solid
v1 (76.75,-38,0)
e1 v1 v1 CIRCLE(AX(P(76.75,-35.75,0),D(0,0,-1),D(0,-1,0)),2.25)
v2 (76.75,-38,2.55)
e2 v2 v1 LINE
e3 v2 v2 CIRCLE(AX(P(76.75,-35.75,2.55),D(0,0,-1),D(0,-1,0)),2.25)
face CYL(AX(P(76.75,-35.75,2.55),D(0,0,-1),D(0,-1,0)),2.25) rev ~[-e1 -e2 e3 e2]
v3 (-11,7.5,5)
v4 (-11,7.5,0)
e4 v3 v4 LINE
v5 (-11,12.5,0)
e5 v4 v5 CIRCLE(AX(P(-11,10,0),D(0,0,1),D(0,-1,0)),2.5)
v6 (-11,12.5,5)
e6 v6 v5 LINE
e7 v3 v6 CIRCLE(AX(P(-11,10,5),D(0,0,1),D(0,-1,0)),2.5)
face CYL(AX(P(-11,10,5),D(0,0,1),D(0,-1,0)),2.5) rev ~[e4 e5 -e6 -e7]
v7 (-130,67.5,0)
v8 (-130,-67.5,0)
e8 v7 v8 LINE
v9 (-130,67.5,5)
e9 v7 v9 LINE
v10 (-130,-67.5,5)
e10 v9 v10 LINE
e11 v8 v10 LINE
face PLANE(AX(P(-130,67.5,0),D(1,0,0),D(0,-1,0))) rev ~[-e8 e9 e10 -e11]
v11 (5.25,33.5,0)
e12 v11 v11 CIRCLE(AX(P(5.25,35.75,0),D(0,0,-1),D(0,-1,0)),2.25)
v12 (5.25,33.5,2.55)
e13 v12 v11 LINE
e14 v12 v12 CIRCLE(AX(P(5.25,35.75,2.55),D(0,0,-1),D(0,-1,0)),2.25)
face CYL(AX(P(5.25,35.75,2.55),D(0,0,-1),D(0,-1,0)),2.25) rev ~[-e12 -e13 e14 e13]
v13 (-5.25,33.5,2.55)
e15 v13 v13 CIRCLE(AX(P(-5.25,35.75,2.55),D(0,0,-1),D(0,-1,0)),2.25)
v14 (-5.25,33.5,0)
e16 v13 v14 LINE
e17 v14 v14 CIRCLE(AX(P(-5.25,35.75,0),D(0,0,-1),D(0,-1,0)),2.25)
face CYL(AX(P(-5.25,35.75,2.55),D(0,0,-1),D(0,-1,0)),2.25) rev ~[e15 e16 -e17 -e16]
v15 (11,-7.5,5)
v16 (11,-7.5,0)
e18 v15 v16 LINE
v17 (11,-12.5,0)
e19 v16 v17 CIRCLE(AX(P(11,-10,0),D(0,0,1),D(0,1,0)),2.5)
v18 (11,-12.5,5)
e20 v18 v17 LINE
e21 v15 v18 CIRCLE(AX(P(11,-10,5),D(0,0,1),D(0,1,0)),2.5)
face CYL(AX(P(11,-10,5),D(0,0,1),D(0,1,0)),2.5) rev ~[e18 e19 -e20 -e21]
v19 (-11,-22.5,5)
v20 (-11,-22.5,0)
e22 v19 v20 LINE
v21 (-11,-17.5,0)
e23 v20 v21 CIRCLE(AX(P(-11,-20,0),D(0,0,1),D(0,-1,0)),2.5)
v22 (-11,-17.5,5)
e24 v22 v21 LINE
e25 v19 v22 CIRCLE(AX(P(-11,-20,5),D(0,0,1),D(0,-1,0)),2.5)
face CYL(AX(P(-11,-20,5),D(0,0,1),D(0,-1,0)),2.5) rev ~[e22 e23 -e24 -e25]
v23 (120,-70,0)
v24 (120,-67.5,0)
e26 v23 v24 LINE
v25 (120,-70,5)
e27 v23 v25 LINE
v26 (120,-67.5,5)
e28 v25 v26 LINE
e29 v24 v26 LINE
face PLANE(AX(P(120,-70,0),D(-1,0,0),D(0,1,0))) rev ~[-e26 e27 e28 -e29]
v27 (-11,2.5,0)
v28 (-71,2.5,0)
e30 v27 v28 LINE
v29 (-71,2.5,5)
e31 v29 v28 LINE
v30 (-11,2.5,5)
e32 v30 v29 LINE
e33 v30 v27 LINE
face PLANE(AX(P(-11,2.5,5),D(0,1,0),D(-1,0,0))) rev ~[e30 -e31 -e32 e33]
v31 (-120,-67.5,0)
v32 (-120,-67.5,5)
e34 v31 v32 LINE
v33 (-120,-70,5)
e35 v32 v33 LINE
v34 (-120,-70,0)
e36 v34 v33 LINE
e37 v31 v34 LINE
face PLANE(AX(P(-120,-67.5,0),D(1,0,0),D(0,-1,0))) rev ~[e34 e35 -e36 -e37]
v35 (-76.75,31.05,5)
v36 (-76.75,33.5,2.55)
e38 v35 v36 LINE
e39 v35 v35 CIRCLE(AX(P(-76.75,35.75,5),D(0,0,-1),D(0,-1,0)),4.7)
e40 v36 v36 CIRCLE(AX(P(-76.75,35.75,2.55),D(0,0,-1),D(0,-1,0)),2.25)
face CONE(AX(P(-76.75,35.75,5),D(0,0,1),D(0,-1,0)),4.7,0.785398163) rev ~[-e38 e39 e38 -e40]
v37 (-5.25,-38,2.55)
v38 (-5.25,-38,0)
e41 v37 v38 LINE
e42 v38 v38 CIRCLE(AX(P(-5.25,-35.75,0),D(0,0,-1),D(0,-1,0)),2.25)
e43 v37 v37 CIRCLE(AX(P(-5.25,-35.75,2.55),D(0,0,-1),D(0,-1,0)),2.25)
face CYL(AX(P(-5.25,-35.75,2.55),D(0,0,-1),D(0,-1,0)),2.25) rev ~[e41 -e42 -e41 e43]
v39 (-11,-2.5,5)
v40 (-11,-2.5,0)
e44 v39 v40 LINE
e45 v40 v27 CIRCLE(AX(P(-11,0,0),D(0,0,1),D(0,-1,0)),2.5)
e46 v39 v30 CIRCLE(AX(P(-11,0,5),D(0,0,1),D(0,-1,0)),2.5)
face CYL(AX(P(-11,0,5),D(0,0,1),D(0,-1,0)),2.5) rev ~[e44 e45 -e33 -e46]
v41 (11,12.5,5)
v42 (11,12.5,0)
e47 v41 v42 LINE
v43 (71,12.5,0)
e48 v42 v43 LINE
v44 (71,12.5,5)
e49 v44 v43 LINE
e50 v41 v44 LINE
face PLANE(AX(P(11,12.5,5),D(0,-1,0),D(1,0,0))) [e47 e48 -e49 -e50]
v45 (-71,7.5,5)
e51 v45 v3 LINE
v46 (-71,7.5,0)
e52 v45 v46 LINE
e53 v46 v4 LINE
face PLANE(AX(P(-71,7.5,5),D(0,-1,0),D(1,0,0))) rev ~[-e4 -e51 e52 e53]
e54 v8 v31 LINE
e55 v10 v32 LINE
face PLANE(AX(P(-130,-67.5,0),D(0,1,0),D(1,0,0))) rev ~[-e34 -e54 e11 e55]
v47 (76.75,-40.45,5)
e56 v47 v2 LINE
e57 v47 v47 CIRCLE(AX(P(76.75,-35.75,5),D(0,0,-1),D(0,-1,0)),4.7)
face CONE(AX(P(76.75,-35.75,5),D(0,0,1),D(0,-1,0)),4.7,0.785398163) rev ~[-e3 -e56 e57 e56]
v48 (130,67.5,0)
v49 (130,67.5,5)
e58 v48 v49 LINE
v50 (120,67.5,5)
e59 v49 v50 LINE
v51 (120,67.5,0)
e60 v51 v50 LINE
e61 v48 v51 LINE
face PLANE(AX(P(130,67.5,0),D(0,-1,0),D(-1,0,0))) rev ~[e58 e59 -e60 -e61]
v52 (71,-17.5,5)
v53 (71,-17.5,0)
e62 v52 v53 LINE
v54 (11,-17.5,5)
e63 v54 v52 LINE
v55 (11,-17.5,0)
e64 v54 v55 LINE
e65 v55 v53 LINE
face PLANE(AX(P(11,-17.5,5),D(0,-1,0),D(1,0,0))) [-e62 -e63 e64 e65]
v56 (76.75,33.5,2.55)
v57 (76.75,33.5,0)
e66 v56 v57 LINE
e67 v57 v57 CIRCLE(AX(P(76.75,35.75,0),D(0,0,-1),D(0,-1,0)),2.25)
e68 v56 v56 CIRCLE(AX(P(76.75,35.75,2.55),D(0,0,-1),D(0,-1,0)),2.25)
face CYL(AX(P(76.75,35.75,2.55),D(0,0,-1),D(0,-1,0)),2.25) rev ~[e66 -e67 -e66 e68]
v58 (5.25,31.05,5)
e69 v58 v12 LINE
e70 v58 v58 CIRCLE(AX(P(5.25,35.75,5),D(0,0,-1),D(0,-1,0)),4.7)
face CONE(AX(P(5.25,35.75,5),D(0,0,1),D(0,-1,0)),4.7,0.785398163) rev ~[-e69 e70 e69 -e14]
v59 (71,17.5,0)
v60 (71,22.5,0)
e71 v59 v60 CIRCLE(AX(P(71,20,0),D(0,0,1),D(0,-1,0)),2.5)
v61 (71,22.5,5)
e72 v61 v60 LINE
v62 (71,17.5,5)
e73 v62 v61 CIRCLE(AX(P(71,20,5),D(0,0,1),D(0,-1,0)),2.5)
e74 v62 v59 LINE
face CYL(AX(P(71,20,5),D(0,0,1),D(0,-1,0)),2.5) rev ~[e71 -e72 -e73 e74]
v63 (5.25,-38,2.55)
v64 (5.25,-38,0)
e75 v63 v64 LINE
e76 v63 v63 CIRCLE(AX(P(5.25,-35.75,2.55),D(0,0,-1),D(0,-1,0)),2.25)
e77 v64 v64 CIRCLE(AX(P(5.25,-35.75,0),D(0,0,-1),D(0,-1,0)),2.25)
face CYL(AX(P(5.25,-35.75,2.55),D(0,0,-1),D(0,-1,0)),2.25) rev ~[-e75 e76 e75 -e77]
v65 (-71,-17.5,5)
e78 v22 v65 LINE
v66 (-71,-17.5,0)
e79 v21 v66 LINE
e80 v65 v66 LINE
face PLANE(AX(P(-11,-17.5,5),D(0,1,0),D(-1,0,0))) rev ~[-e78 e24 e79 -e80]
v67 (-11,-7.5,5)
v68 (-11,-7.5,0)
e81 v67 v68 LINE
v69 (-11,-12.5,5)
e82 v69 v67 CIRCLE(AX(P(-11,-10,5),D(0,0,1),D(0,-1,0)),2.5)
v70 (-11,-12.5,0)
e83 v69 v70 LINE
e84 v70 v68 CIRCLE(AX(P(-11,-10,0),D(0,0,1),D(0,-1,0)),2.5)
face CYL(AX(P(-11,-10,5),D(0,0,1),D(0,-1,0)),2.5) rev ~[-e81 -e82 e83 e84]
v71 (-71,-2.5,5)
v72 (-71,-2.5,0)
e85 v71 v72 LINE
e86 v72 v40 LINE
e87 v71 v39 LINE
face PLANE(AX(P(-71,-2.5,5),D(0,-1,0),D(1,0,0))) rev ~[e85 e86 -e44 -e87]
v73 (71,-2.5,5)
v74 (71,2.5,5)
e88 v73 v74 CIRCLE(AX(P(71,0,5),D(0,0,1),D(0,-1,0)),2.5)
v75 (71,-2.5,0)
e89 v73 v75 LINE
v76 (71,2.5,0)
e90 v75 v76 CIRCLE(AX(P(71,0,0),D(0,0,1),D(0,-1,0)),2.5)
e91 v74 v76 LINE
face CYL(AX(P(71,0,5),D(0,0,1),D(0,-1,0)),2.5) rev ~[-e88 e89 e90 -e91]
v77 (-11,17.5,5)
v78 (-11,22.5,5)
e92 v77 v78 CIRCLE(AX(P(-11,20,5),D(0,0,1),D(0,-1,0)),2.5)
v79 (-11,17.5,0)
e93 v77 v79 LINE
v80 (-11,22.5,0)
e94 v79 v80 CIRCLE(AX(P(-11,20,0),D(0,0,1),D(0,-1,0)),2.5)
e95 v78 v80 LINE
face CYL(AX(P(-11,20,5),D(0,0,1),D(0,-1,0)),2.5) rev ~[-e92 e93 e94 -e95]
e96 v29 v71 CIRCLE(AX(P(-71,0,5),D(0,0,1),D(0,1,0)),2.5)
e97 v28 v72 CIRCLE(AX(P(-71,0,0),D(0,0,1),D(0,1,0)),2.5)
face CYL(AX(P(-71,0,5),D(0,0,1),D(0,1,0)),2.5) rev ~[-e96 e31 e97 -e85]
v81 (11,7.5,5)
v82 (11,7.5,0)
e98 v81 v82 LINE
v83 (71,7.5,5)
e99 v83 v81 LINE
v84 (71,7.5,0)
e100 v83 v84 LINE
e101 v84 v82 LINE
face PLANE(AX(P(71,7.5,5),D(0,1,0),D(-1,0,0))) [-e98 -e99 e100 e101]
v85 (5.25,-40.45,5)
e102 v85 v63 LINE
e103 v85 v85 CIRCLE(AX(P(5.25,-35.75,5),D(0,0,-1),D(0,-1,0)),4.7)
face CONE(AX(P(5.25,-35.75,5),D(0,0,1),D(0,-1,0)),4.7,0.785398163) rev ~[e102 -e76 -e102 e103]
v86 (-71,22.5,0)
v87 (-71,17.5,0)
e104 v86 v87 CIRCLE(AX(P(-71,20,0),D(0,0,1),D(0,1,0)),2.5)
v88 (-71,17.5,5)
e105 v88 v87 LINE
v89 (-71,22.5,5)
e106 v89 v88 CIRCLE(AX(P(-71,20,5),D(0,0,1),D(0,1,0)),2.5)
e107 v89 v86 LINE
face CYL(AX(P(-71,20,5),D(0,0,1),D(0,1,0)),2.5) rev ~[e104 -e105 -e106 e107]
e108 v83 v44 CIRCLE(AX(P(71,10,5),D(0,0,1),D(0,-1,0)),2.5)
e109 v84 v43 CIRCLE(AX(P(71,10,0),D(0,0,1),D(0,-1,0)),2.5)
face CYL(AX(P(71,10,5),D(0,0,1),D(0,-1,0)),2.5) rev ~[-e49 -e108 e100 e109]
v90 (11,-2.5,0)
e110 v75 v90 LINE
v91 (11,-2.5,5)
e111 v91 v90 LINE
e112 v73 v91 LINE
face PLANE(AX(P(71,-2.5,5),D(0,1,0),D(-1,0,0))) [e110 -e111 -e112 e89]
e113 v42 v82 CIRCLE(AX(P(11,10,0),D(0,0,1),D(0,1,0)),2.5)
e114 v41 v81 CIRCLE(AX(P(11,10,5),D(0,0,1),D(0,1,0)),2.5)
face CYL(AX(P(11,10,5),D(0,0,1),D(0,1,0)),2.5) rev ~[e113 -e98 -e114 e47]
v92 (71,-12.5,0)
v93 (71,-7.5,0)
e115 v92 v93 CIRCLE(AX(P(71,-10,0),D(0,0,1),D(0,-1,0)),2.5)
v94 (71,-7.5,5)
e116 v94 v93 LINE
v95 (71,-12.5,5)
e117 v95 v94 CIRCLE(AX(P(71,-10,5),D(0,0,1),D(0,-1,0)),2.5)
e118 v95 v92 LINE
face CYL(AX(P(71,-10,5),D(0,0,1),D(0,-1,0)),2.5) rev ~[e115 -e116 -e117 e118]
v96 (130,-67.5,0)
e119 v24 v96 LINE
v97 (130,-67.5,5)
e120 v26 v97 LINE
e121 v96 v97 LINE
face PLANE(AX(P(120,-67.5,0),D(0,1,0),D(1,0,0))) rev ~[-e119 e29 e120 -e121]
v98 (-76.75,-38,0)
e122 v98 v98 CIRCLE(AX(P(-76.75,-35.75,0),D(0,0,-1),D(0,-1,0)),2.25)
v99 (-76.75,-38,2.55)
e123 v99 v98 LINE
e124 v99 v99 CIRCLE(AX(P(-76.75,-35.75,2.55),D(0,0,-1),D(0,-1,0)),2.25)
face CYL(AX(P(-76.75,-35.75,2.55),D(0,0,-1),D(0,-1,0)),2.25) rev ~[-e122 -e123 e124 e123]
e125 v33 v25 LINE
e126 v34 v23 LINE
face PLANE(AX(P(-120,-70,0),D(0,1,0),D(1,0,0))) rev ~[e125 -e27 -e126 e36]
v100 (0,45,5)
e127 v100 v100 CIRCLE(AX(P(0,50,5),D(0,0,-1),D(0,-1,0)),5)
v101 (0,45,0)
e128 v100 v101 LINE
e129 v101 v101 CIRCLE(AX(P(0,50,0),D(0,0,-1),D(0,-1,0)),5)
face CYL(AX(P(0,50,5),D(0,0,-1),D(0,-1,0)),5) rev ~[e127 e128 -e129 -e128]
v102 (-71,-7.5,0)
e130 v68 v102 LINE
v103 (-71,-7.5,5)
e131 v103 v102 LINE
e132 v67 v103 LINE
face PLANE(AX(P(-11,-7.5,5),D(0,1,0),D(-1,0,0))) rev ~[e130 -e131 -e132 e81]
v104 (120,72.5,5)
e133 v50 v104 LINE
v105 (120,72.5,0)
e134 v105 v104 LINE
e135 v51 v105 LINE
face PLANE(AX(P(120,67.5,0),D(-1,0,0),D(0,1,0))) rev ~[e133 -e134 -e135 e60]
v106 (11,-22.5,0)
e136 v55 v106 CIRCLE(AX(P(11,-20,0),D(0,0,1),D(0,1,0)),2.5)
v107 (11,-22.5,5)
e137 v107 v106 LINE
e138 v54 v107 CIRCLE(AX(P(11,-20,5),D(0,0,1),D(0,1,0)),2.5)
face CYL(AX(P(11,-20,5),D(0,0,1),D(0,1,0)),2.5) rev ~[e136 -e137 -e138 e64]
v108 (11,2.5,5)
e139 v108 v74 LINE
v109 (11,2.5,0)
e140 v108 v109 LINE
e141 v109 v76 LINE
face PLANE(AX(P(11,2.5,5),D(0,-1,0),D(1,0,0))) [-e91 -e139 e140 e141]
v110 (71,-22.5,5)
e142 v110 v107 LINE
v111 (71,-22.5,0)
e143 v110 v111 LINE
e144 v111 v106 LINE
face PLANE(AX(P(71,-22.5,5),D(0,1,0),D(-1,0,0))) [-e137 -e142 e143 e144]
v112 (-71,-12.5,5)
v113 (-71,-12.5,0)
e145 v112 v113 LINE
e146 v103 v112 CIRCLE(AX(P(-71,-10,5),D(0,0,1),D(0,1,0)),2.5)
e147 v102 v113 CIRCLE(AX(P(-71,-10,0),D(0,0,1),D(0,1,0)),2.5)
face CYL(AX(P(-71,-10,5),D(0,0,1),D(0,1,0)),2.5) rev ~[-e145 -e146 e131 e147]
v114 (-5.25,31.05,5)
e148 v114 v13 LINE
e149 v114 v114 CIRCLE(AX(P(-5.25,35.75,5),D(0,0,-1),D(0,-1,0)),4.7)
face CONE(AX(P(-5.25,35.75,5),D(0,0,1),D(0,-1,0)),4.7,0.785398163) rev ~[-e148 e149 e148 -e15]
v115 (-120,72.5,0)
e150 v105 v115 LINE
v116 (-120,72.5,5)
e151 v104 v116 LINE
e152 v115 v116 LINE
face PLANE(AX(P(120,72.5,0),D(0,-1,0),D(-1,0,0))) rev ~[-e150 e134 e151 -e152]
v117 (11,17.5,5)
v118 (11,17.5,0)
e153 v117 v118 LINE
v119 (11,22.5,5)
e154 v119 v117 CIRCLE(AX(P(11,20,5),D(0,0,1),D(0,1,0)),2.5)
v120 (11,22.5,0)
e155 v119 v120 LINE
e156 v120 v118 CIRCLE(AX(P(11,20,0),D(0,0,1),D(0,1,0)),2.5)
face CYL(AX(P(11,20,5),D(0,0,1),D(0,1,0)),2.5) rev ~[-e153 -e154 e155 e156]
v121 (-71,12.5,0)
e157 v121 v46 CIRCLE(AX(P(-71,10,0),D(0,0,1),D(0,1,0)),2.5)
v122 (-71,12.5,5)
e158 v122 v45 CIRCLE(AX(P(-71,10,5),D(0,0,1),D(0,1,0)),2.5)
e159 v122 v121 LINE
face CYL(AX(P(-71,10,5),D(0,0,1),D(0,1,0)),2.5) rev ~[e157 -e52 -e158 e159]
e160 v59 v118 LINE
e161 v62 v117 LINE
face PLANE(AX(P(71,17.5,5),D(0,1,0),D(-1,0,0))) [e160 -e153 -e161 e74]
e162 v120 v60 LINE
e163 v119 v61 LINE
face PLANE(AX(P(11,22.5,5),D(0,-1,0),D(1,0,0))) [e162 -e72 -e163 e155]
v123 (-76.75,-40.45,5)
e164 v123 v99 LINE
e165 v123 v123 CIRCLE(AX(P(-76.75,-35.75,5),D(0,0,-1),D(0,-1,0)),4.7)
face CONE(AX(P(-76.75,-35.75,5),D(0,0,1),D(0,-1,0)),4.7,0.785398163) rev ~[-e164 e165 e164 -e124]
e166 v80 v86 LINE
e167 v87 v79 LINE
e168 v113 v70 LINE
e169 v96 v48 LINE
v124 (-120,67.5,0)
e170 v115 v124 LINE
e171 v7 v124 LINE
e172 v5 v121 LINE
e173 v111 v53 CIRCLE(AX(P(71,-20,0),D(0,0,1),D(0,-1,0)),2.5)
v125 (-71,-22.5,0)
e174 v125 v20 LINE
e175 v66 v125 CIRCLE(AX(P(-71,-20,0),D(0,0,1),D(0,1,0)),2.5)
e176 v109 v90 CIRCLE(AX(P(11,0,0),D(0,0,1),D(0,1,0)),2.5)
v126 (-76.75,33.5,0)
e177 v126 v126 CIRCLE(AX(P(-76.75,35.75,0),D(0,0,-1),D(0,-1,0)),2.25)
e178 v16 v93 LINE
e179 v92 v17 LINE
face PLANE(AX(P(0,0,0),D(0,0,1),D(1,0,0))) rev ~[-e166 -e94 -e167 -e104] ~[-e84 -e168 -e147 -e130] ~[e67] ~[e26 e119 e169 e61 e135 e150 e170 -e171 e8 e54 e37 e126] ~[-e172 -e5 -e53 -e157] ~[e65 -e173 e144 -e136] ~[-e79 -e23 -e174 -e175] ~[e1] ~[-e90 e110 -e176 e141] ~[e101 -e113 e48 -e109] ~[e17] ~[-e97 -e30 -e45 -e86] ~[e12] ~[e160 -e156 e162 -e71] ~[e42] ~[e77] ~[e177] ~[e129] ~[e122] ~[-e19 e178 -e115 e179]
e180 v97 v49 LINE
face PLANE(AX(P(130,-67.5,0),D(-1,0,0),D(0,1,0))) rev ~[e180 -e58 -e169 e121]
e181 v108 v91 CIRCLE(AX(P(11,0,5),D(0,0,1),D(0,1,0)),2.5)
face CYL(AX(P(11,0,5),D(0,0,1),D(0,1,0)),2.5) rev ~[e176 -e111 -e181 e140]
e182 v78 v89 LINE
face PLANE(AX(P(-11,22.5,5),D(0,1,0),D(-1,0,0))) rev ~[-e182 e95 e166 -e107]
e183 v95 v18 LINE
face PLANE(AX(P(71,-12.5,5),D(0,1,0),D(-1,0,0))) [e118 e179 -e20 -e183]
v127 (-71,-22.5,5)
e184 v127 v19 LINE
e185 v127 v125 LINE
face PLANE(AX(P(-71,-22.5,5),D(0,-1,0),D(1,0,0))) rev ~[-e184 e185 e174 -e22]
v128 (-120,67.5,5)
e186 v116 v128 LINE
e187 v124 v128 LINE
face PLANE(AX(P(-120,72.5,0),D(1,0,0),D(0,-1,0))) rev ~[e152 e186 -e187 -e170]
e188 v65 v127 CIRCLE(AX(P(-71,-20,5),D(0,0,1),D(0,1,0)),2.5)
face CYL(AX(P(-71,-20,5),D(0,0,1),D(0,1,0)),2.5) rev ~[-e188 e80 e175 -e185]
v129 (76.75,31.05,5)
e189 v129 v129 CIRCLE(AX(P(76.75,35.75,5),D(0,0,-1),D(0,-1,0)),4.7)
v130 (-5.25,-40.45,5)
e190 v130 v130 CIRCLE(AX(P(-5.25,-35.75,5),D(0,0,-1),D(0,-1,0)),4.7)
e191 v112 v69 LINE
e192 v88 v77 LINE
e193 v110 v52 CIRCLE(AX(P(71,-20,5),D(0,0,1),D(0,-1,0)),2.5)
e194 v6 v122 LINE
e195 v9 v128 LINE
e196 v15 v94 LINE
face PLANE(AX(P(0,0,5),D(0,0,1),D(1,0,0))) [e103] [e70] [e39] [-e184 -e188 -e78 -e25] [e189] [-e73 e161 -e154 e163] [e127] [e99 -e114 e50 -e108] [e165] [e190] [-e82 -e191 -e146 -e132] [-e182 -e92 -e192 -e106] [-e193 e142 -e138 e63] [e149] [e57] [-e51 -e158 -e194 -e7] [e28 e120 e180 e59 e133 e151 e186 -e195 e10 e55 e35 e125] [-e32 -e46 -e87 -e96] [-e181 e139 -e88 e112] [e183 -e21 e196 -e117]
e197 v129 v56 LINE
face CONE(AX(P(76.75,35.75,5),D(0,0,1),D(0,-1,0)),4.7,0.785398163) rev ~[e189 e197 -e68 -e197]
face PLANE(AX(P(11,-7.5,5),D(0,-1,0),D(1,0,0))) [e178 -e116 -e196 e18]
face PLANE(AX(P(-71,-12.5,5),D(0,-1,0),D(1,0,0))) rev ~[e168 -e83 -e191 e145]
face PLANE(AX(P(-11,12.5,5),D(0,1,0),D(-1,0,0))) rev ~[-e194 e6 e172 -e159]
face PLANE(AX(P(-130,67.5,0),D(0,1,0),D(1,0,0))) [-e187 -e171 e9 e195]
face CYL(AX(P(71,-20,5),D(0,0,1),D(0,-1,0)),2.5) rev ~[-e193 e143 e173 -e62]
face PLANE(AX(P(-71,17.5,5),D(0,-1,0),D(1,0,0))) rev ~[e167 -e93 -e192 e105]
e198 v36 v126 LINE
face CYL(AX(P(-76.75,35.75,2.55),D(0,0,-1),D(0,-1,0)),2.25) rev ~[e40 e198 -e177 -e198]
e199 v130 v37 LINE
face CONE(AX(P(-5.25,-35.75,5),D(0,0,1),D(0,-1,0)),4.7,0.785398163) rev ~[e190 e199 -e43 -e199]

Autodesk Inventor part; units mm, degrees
ref_plane "YZ Plane" through (0, 0, 0) normal (1, 0, 0) x (0, 1, 0)
ref_plane "XZ Plane" through (0, 0, 0) normal (0, 1, 0) x (-1, 0, 0)
ref_plane "XY Plane" through (0, 0, 0) normal (0, 0, 1) x (1, 0, 0)
sketch "Sketch1" plane through (0, 0, 0) normal (0, 0, 1) x (1, 0, 0)
  line L0 (-130, 67.5) -> (-130, -67.5)
  line L1 (-130, -67.5) -> (-120, -67.5)
  line L2 (-120, -67.5) -> (-120, -70)
  line L3 (-120, -70) -> (120, -70)
  line L4 (120, -70) -> (120, -67.5)
  line L5 (120, -67.5) -> (130, -67.5)
  line L6 (130, -67.5) -> (130, 67.5)
  line L7 (130, 67.5) -> (120, 67.5)
  line L8 (120, 67.5) -> (120, 72.5)
  line L9 (120, 72.5) -> (-120, 72.5)
  line L10 (-120, 72.5) -> (-120, 67.5)
  line L11 (-130, 67.5) -> (-120, 67.5)
  point P0 (0, 0)
  point P1 (0, 72.5)
  point P2 (130, 0)
  point P3 (-130, 0)
  dimension "d0" = 5
  dimension "d1" = 240
  dimension "d2" = 10
  dimension "d3" = 10
  dimension "d4" = 2.5
  dimension "d5" = 135
extrude "Extrusion1" add sketch "Sketch1" along normal blind 5
sketch "Sketch2" plane through (0, 0, 5) normal (0, 0, 1) x (1, 0, 0)
  line L0 (-76.75, -35.75) -> (-5.25, -35.75) construction
  line L1 (-5.25, -35.75) -> (-5.25, 35.75) construction
  line L2 (-5.25, 35.75) -> (-76.75, 35.75) construction
  line L3 (-76.75, 35.75) -> (-76.75, -35.75) construction
  line L4 (-76.75, -35.75) -> (-5.25, 35.75) construction
  line L5 (-5.25, -35.75) -> (-76.75, 35.75) construction
  line L6 (5.25, -35.75) -> (76.75, -35.75) construction
  line L7 (76.75, -35.75) -> (76.75, 35.75) construction
  line L8 (76.75, 35.75) -> (5.25, 35.75) construction
  line L9 (5.25, 35.75) -> (5.25, -35.75) construction
  line L10 (5.25, -35.75) -> (76.75, 35.75) construction
  line L11 (76.75, -35.75) -> (5.25, 35.75) construction
  point P0 (0, 0)
  point P1 (-41, 0)
  point P2 (41, 0)
  point P3 (-41, 0)
  point P4 (41, 0)
  point P5 (76.75, 35.75)
  dimension "d8" = 71.5
  dimension "d9" = 71.5
  dimension "d10" = 71.5
  dimension "d11" = 82
  dimension "d12" = 41
hole "Hole1" at (-76.75, 35.75, 5) at (-5.25, 35.75, 5) at (-5.25, -35.75, 5) at (-76.75, -35.75, 5) at (5.25, 35.75, 5) at (76.75, 35.75, 5) at (76.75, -35.75, 5) at (5.25, -35.75, 5) direction (0, 0, -1) diameter 4.5 depth 8 tip angle 118 countersink diameter 9.4 countersink angle 90 clearance for "Countersunk Flat Head Screw DIN EN ISO 2009" size "M4" standard "DIN"
sketch "Sketch4" plane through (0, 0, 5) normal (0, 0, 1) x (1, 0, 0)
  circle A0 centre (-76.75, 35.75) radius 2.25 projected
  circle A1 centre (-5.25, 35.75) radius 2.25 projected
  circle A2 centre (5.25, 35.75) radius 2.25 projected
  circle A3 centre (76.75, 35.75) radius 2.25 projected
  circle A4 centre (76.75, -35.75) radius 2.25 projected
  circle A5 centre (5.25, -35.75) radius 2.25 projected
  circle A6 centre (-5.25, -35.75) radius 2.25 projected
  circle A7 centre (-76.75, -35.75) radius 2.25 projected
  circle A8 centre (-5.25, -35.75) radius 2.25 construction
  line L0 (-76.75, 35.75) -> (-5.25, 35.75) construction
  line L1 (-5.25, 35.75) -> (-5.25, -35.75) construction
  line L2 (-5.25, -35.75) -> (-76.75, -35.75) construction
  line L3 (-76.75, -35.75) -> (-76.75, 35.75) construction
  line L4 (5.25, -35.75) -> (76.75, -35.75) construction
  line L5 (76.75, -35.75) -> (76.75, 35.75) construction
  line L6 (76.75, 35.75) -> (5.25, 35.75) construction
  line L7 (5.25, 35.75) -> (5.25, -35.75) construction
  line L8 (-71, 0) -> (-11, 0)
  line L9 (-71, -2.5) -> (-11, -2.5)
  line L10 (-11, 2.5) -> (-71, 2.5)
  arc A9 (-71, 2.5) -> (-71, -2.5) centre (-71, 0) ccw
  arc A10 (-11, -2.5) -> (-11, 2.5) centre (-11, 0) ccw
  line L11 (-130, 67.5) -> (-130, -67.5) construction
  arc A11 (-11, -12.5) -> (-11, -7.5) centre (-11, -10) ccw
  line L12 (-71, -10) -> (-11, -10)
  line L13 (-71, -12.5) -> (-11, -12.5)
  line L14 (-11, -7.5) -> (-71, -7.5)
  arc A12 (-71, -7.5) -> (-71, -12.5) centre (-71, -10) ccw
  arc A13 (-11, -22.5) -> (-11, -17.5) centre (-11, -20) ccw
  line L15 (-71, -20) -> (-11, -20)
  line L16 (-71, -22.5) -> (-11, -22.5)
  line L17 (-11, -17.5) -> (-71, -17.5)
  arc A14 (-71, -17.5) -> (-71, -22.5) centre (-71, -20) ccw
  line L18 (-71, 7.5) -> (-11, 7.5)
  line L19 (-71, 10) -> (-11, 10)
  line L20 (-11, 12.5) -> (-71, 12.5)
  arc A15 (-11, 7.5) -> (-11, 12.5) centre (-11, 10) ccw
  arc A16 (-71, 12.5) -> (-71, 7.5) centre (-71, 10) ccw
  line L21 (-71, 17.5) -> (-11, 17.5)
  line L22 (-71, 20) -> (-11, 20)
  line L23 (-11, 22.5) -> (-71, 22.5)
  arc A17 (-11, 17.5) -> (-11, 22.5) centre (-11, 20) ccw
  arc A18 (-71, 22.5) -> (-71, 17.5) centre (-71, 20) ccw
  line L24 (0, 82.6384) -> (0, -86.5576) construction
  line L25 (71, 0) -> (11, 0)
  line L26 (71, -2.5) -> (11, -2.5)
  line L27 (11, 2.5) -> (71, 2.5)
  arc A19 (71, -2.5) -> (71, 2.5) centre (71, 0) ccw
  arc A20 (11, 2.5) -> (11, -2.5) centre (11, 0) ccw
  arc A21 (11, -7.5) -> (11, -12.5) centre (11, -10) ccw
  line L28 (71, -10) -> (11, -10)
  line L29 (71, -12.5) -> (11, -12.5)
  line L30 (11, -7.5) -> (71, -7.5)
  arc A22 (71, -12.5) -> (71, -7.5) centre (71, -10) ccw
  arc A23 (11, -17.5) -> (11, -22.5) centre (11, -20) ccw
  line L31 (71, -20) -> (11, -20)
  line L32 (71, -22.5) -> (11, -22.5)
  line L33 (11, -17.5) -> (71, -17.5)
  arc A24 (71, -22.5) -> (71, -17.5) centre (71, -20) ccw
  line L34 (71, 7.5) -> (11, 7.5)
  line L35 (71, 10) -> (11, 10)
  line L36 (11, 12.5) -> (71, 12.5)
  arc A25 (11, 12.5) -> (11, 7.5) centre (11, 10) ccw
  arc A26 (71, 7.5) -> (71, 12.5) centre (71, 10) ccw
  line L37 (71, 17.5) -> (11, 17.5)
  line L38 (71, 20) -> (11, 20)
  line L39 (11, 22.5) -> (71, 22.5)
  arc A27 (11, 22.5) -> (11, 17.5) centre (11, 20) ccw
  arc A28 (71, 17.5) -> (71, 22.5) centre (71, 20) ccw
  point P0 (0, 0)
  point P1 (-41, 0)
  point P2 (-41, -10)
  point P3 (-41, -20)
  point P4 (-41, 10)
  point P5 (-41, 20)
  point P6 (41, 0)
  point P7 (41, -10)
  point P8 (41, -20)
  point P9 (41, 10)
  point P10 (41, 20)
  dimension "d21" = 30
  dimension "d22" = 5
  dimension "d23" = 35.75
  dimension "d26" = 10
  dimension "d33" = 10
  dimension "d38" = 35.75
extrude "Extrusion2" cut sketch "Sketch4" against normal blind 5 contours A9 L10 A10 L9 | L13 A12 L14 A11 | L16 A14 L17 A13 | A16 L20 A15 L18 | A18 L23 A17 L21 | L26 A20 L27 A19 | L30 A22 L29 A21 | L33 A24 L32 A23 | L34 A25 L36 A26 | L37 A27 L39 A28
sketch "Sketch5" plane through (0, 0, 5) normal (0, 0, 1) x (1, 0, 0)
  point P0 (0, 0)
  point P1 (0, 50)
  point P2 (0, 50)
  dimension "d42" = 50
hole "Hole2" at (0, 50, 5) direction (0, 0, -1) diameter 10 depth 8 tip angle 118
equation "\"d12\" = 0.5 * d11"
equation "\"d39\" = d22"
properties part number "SeitenOben" material "Polycarbonate, Clear"
